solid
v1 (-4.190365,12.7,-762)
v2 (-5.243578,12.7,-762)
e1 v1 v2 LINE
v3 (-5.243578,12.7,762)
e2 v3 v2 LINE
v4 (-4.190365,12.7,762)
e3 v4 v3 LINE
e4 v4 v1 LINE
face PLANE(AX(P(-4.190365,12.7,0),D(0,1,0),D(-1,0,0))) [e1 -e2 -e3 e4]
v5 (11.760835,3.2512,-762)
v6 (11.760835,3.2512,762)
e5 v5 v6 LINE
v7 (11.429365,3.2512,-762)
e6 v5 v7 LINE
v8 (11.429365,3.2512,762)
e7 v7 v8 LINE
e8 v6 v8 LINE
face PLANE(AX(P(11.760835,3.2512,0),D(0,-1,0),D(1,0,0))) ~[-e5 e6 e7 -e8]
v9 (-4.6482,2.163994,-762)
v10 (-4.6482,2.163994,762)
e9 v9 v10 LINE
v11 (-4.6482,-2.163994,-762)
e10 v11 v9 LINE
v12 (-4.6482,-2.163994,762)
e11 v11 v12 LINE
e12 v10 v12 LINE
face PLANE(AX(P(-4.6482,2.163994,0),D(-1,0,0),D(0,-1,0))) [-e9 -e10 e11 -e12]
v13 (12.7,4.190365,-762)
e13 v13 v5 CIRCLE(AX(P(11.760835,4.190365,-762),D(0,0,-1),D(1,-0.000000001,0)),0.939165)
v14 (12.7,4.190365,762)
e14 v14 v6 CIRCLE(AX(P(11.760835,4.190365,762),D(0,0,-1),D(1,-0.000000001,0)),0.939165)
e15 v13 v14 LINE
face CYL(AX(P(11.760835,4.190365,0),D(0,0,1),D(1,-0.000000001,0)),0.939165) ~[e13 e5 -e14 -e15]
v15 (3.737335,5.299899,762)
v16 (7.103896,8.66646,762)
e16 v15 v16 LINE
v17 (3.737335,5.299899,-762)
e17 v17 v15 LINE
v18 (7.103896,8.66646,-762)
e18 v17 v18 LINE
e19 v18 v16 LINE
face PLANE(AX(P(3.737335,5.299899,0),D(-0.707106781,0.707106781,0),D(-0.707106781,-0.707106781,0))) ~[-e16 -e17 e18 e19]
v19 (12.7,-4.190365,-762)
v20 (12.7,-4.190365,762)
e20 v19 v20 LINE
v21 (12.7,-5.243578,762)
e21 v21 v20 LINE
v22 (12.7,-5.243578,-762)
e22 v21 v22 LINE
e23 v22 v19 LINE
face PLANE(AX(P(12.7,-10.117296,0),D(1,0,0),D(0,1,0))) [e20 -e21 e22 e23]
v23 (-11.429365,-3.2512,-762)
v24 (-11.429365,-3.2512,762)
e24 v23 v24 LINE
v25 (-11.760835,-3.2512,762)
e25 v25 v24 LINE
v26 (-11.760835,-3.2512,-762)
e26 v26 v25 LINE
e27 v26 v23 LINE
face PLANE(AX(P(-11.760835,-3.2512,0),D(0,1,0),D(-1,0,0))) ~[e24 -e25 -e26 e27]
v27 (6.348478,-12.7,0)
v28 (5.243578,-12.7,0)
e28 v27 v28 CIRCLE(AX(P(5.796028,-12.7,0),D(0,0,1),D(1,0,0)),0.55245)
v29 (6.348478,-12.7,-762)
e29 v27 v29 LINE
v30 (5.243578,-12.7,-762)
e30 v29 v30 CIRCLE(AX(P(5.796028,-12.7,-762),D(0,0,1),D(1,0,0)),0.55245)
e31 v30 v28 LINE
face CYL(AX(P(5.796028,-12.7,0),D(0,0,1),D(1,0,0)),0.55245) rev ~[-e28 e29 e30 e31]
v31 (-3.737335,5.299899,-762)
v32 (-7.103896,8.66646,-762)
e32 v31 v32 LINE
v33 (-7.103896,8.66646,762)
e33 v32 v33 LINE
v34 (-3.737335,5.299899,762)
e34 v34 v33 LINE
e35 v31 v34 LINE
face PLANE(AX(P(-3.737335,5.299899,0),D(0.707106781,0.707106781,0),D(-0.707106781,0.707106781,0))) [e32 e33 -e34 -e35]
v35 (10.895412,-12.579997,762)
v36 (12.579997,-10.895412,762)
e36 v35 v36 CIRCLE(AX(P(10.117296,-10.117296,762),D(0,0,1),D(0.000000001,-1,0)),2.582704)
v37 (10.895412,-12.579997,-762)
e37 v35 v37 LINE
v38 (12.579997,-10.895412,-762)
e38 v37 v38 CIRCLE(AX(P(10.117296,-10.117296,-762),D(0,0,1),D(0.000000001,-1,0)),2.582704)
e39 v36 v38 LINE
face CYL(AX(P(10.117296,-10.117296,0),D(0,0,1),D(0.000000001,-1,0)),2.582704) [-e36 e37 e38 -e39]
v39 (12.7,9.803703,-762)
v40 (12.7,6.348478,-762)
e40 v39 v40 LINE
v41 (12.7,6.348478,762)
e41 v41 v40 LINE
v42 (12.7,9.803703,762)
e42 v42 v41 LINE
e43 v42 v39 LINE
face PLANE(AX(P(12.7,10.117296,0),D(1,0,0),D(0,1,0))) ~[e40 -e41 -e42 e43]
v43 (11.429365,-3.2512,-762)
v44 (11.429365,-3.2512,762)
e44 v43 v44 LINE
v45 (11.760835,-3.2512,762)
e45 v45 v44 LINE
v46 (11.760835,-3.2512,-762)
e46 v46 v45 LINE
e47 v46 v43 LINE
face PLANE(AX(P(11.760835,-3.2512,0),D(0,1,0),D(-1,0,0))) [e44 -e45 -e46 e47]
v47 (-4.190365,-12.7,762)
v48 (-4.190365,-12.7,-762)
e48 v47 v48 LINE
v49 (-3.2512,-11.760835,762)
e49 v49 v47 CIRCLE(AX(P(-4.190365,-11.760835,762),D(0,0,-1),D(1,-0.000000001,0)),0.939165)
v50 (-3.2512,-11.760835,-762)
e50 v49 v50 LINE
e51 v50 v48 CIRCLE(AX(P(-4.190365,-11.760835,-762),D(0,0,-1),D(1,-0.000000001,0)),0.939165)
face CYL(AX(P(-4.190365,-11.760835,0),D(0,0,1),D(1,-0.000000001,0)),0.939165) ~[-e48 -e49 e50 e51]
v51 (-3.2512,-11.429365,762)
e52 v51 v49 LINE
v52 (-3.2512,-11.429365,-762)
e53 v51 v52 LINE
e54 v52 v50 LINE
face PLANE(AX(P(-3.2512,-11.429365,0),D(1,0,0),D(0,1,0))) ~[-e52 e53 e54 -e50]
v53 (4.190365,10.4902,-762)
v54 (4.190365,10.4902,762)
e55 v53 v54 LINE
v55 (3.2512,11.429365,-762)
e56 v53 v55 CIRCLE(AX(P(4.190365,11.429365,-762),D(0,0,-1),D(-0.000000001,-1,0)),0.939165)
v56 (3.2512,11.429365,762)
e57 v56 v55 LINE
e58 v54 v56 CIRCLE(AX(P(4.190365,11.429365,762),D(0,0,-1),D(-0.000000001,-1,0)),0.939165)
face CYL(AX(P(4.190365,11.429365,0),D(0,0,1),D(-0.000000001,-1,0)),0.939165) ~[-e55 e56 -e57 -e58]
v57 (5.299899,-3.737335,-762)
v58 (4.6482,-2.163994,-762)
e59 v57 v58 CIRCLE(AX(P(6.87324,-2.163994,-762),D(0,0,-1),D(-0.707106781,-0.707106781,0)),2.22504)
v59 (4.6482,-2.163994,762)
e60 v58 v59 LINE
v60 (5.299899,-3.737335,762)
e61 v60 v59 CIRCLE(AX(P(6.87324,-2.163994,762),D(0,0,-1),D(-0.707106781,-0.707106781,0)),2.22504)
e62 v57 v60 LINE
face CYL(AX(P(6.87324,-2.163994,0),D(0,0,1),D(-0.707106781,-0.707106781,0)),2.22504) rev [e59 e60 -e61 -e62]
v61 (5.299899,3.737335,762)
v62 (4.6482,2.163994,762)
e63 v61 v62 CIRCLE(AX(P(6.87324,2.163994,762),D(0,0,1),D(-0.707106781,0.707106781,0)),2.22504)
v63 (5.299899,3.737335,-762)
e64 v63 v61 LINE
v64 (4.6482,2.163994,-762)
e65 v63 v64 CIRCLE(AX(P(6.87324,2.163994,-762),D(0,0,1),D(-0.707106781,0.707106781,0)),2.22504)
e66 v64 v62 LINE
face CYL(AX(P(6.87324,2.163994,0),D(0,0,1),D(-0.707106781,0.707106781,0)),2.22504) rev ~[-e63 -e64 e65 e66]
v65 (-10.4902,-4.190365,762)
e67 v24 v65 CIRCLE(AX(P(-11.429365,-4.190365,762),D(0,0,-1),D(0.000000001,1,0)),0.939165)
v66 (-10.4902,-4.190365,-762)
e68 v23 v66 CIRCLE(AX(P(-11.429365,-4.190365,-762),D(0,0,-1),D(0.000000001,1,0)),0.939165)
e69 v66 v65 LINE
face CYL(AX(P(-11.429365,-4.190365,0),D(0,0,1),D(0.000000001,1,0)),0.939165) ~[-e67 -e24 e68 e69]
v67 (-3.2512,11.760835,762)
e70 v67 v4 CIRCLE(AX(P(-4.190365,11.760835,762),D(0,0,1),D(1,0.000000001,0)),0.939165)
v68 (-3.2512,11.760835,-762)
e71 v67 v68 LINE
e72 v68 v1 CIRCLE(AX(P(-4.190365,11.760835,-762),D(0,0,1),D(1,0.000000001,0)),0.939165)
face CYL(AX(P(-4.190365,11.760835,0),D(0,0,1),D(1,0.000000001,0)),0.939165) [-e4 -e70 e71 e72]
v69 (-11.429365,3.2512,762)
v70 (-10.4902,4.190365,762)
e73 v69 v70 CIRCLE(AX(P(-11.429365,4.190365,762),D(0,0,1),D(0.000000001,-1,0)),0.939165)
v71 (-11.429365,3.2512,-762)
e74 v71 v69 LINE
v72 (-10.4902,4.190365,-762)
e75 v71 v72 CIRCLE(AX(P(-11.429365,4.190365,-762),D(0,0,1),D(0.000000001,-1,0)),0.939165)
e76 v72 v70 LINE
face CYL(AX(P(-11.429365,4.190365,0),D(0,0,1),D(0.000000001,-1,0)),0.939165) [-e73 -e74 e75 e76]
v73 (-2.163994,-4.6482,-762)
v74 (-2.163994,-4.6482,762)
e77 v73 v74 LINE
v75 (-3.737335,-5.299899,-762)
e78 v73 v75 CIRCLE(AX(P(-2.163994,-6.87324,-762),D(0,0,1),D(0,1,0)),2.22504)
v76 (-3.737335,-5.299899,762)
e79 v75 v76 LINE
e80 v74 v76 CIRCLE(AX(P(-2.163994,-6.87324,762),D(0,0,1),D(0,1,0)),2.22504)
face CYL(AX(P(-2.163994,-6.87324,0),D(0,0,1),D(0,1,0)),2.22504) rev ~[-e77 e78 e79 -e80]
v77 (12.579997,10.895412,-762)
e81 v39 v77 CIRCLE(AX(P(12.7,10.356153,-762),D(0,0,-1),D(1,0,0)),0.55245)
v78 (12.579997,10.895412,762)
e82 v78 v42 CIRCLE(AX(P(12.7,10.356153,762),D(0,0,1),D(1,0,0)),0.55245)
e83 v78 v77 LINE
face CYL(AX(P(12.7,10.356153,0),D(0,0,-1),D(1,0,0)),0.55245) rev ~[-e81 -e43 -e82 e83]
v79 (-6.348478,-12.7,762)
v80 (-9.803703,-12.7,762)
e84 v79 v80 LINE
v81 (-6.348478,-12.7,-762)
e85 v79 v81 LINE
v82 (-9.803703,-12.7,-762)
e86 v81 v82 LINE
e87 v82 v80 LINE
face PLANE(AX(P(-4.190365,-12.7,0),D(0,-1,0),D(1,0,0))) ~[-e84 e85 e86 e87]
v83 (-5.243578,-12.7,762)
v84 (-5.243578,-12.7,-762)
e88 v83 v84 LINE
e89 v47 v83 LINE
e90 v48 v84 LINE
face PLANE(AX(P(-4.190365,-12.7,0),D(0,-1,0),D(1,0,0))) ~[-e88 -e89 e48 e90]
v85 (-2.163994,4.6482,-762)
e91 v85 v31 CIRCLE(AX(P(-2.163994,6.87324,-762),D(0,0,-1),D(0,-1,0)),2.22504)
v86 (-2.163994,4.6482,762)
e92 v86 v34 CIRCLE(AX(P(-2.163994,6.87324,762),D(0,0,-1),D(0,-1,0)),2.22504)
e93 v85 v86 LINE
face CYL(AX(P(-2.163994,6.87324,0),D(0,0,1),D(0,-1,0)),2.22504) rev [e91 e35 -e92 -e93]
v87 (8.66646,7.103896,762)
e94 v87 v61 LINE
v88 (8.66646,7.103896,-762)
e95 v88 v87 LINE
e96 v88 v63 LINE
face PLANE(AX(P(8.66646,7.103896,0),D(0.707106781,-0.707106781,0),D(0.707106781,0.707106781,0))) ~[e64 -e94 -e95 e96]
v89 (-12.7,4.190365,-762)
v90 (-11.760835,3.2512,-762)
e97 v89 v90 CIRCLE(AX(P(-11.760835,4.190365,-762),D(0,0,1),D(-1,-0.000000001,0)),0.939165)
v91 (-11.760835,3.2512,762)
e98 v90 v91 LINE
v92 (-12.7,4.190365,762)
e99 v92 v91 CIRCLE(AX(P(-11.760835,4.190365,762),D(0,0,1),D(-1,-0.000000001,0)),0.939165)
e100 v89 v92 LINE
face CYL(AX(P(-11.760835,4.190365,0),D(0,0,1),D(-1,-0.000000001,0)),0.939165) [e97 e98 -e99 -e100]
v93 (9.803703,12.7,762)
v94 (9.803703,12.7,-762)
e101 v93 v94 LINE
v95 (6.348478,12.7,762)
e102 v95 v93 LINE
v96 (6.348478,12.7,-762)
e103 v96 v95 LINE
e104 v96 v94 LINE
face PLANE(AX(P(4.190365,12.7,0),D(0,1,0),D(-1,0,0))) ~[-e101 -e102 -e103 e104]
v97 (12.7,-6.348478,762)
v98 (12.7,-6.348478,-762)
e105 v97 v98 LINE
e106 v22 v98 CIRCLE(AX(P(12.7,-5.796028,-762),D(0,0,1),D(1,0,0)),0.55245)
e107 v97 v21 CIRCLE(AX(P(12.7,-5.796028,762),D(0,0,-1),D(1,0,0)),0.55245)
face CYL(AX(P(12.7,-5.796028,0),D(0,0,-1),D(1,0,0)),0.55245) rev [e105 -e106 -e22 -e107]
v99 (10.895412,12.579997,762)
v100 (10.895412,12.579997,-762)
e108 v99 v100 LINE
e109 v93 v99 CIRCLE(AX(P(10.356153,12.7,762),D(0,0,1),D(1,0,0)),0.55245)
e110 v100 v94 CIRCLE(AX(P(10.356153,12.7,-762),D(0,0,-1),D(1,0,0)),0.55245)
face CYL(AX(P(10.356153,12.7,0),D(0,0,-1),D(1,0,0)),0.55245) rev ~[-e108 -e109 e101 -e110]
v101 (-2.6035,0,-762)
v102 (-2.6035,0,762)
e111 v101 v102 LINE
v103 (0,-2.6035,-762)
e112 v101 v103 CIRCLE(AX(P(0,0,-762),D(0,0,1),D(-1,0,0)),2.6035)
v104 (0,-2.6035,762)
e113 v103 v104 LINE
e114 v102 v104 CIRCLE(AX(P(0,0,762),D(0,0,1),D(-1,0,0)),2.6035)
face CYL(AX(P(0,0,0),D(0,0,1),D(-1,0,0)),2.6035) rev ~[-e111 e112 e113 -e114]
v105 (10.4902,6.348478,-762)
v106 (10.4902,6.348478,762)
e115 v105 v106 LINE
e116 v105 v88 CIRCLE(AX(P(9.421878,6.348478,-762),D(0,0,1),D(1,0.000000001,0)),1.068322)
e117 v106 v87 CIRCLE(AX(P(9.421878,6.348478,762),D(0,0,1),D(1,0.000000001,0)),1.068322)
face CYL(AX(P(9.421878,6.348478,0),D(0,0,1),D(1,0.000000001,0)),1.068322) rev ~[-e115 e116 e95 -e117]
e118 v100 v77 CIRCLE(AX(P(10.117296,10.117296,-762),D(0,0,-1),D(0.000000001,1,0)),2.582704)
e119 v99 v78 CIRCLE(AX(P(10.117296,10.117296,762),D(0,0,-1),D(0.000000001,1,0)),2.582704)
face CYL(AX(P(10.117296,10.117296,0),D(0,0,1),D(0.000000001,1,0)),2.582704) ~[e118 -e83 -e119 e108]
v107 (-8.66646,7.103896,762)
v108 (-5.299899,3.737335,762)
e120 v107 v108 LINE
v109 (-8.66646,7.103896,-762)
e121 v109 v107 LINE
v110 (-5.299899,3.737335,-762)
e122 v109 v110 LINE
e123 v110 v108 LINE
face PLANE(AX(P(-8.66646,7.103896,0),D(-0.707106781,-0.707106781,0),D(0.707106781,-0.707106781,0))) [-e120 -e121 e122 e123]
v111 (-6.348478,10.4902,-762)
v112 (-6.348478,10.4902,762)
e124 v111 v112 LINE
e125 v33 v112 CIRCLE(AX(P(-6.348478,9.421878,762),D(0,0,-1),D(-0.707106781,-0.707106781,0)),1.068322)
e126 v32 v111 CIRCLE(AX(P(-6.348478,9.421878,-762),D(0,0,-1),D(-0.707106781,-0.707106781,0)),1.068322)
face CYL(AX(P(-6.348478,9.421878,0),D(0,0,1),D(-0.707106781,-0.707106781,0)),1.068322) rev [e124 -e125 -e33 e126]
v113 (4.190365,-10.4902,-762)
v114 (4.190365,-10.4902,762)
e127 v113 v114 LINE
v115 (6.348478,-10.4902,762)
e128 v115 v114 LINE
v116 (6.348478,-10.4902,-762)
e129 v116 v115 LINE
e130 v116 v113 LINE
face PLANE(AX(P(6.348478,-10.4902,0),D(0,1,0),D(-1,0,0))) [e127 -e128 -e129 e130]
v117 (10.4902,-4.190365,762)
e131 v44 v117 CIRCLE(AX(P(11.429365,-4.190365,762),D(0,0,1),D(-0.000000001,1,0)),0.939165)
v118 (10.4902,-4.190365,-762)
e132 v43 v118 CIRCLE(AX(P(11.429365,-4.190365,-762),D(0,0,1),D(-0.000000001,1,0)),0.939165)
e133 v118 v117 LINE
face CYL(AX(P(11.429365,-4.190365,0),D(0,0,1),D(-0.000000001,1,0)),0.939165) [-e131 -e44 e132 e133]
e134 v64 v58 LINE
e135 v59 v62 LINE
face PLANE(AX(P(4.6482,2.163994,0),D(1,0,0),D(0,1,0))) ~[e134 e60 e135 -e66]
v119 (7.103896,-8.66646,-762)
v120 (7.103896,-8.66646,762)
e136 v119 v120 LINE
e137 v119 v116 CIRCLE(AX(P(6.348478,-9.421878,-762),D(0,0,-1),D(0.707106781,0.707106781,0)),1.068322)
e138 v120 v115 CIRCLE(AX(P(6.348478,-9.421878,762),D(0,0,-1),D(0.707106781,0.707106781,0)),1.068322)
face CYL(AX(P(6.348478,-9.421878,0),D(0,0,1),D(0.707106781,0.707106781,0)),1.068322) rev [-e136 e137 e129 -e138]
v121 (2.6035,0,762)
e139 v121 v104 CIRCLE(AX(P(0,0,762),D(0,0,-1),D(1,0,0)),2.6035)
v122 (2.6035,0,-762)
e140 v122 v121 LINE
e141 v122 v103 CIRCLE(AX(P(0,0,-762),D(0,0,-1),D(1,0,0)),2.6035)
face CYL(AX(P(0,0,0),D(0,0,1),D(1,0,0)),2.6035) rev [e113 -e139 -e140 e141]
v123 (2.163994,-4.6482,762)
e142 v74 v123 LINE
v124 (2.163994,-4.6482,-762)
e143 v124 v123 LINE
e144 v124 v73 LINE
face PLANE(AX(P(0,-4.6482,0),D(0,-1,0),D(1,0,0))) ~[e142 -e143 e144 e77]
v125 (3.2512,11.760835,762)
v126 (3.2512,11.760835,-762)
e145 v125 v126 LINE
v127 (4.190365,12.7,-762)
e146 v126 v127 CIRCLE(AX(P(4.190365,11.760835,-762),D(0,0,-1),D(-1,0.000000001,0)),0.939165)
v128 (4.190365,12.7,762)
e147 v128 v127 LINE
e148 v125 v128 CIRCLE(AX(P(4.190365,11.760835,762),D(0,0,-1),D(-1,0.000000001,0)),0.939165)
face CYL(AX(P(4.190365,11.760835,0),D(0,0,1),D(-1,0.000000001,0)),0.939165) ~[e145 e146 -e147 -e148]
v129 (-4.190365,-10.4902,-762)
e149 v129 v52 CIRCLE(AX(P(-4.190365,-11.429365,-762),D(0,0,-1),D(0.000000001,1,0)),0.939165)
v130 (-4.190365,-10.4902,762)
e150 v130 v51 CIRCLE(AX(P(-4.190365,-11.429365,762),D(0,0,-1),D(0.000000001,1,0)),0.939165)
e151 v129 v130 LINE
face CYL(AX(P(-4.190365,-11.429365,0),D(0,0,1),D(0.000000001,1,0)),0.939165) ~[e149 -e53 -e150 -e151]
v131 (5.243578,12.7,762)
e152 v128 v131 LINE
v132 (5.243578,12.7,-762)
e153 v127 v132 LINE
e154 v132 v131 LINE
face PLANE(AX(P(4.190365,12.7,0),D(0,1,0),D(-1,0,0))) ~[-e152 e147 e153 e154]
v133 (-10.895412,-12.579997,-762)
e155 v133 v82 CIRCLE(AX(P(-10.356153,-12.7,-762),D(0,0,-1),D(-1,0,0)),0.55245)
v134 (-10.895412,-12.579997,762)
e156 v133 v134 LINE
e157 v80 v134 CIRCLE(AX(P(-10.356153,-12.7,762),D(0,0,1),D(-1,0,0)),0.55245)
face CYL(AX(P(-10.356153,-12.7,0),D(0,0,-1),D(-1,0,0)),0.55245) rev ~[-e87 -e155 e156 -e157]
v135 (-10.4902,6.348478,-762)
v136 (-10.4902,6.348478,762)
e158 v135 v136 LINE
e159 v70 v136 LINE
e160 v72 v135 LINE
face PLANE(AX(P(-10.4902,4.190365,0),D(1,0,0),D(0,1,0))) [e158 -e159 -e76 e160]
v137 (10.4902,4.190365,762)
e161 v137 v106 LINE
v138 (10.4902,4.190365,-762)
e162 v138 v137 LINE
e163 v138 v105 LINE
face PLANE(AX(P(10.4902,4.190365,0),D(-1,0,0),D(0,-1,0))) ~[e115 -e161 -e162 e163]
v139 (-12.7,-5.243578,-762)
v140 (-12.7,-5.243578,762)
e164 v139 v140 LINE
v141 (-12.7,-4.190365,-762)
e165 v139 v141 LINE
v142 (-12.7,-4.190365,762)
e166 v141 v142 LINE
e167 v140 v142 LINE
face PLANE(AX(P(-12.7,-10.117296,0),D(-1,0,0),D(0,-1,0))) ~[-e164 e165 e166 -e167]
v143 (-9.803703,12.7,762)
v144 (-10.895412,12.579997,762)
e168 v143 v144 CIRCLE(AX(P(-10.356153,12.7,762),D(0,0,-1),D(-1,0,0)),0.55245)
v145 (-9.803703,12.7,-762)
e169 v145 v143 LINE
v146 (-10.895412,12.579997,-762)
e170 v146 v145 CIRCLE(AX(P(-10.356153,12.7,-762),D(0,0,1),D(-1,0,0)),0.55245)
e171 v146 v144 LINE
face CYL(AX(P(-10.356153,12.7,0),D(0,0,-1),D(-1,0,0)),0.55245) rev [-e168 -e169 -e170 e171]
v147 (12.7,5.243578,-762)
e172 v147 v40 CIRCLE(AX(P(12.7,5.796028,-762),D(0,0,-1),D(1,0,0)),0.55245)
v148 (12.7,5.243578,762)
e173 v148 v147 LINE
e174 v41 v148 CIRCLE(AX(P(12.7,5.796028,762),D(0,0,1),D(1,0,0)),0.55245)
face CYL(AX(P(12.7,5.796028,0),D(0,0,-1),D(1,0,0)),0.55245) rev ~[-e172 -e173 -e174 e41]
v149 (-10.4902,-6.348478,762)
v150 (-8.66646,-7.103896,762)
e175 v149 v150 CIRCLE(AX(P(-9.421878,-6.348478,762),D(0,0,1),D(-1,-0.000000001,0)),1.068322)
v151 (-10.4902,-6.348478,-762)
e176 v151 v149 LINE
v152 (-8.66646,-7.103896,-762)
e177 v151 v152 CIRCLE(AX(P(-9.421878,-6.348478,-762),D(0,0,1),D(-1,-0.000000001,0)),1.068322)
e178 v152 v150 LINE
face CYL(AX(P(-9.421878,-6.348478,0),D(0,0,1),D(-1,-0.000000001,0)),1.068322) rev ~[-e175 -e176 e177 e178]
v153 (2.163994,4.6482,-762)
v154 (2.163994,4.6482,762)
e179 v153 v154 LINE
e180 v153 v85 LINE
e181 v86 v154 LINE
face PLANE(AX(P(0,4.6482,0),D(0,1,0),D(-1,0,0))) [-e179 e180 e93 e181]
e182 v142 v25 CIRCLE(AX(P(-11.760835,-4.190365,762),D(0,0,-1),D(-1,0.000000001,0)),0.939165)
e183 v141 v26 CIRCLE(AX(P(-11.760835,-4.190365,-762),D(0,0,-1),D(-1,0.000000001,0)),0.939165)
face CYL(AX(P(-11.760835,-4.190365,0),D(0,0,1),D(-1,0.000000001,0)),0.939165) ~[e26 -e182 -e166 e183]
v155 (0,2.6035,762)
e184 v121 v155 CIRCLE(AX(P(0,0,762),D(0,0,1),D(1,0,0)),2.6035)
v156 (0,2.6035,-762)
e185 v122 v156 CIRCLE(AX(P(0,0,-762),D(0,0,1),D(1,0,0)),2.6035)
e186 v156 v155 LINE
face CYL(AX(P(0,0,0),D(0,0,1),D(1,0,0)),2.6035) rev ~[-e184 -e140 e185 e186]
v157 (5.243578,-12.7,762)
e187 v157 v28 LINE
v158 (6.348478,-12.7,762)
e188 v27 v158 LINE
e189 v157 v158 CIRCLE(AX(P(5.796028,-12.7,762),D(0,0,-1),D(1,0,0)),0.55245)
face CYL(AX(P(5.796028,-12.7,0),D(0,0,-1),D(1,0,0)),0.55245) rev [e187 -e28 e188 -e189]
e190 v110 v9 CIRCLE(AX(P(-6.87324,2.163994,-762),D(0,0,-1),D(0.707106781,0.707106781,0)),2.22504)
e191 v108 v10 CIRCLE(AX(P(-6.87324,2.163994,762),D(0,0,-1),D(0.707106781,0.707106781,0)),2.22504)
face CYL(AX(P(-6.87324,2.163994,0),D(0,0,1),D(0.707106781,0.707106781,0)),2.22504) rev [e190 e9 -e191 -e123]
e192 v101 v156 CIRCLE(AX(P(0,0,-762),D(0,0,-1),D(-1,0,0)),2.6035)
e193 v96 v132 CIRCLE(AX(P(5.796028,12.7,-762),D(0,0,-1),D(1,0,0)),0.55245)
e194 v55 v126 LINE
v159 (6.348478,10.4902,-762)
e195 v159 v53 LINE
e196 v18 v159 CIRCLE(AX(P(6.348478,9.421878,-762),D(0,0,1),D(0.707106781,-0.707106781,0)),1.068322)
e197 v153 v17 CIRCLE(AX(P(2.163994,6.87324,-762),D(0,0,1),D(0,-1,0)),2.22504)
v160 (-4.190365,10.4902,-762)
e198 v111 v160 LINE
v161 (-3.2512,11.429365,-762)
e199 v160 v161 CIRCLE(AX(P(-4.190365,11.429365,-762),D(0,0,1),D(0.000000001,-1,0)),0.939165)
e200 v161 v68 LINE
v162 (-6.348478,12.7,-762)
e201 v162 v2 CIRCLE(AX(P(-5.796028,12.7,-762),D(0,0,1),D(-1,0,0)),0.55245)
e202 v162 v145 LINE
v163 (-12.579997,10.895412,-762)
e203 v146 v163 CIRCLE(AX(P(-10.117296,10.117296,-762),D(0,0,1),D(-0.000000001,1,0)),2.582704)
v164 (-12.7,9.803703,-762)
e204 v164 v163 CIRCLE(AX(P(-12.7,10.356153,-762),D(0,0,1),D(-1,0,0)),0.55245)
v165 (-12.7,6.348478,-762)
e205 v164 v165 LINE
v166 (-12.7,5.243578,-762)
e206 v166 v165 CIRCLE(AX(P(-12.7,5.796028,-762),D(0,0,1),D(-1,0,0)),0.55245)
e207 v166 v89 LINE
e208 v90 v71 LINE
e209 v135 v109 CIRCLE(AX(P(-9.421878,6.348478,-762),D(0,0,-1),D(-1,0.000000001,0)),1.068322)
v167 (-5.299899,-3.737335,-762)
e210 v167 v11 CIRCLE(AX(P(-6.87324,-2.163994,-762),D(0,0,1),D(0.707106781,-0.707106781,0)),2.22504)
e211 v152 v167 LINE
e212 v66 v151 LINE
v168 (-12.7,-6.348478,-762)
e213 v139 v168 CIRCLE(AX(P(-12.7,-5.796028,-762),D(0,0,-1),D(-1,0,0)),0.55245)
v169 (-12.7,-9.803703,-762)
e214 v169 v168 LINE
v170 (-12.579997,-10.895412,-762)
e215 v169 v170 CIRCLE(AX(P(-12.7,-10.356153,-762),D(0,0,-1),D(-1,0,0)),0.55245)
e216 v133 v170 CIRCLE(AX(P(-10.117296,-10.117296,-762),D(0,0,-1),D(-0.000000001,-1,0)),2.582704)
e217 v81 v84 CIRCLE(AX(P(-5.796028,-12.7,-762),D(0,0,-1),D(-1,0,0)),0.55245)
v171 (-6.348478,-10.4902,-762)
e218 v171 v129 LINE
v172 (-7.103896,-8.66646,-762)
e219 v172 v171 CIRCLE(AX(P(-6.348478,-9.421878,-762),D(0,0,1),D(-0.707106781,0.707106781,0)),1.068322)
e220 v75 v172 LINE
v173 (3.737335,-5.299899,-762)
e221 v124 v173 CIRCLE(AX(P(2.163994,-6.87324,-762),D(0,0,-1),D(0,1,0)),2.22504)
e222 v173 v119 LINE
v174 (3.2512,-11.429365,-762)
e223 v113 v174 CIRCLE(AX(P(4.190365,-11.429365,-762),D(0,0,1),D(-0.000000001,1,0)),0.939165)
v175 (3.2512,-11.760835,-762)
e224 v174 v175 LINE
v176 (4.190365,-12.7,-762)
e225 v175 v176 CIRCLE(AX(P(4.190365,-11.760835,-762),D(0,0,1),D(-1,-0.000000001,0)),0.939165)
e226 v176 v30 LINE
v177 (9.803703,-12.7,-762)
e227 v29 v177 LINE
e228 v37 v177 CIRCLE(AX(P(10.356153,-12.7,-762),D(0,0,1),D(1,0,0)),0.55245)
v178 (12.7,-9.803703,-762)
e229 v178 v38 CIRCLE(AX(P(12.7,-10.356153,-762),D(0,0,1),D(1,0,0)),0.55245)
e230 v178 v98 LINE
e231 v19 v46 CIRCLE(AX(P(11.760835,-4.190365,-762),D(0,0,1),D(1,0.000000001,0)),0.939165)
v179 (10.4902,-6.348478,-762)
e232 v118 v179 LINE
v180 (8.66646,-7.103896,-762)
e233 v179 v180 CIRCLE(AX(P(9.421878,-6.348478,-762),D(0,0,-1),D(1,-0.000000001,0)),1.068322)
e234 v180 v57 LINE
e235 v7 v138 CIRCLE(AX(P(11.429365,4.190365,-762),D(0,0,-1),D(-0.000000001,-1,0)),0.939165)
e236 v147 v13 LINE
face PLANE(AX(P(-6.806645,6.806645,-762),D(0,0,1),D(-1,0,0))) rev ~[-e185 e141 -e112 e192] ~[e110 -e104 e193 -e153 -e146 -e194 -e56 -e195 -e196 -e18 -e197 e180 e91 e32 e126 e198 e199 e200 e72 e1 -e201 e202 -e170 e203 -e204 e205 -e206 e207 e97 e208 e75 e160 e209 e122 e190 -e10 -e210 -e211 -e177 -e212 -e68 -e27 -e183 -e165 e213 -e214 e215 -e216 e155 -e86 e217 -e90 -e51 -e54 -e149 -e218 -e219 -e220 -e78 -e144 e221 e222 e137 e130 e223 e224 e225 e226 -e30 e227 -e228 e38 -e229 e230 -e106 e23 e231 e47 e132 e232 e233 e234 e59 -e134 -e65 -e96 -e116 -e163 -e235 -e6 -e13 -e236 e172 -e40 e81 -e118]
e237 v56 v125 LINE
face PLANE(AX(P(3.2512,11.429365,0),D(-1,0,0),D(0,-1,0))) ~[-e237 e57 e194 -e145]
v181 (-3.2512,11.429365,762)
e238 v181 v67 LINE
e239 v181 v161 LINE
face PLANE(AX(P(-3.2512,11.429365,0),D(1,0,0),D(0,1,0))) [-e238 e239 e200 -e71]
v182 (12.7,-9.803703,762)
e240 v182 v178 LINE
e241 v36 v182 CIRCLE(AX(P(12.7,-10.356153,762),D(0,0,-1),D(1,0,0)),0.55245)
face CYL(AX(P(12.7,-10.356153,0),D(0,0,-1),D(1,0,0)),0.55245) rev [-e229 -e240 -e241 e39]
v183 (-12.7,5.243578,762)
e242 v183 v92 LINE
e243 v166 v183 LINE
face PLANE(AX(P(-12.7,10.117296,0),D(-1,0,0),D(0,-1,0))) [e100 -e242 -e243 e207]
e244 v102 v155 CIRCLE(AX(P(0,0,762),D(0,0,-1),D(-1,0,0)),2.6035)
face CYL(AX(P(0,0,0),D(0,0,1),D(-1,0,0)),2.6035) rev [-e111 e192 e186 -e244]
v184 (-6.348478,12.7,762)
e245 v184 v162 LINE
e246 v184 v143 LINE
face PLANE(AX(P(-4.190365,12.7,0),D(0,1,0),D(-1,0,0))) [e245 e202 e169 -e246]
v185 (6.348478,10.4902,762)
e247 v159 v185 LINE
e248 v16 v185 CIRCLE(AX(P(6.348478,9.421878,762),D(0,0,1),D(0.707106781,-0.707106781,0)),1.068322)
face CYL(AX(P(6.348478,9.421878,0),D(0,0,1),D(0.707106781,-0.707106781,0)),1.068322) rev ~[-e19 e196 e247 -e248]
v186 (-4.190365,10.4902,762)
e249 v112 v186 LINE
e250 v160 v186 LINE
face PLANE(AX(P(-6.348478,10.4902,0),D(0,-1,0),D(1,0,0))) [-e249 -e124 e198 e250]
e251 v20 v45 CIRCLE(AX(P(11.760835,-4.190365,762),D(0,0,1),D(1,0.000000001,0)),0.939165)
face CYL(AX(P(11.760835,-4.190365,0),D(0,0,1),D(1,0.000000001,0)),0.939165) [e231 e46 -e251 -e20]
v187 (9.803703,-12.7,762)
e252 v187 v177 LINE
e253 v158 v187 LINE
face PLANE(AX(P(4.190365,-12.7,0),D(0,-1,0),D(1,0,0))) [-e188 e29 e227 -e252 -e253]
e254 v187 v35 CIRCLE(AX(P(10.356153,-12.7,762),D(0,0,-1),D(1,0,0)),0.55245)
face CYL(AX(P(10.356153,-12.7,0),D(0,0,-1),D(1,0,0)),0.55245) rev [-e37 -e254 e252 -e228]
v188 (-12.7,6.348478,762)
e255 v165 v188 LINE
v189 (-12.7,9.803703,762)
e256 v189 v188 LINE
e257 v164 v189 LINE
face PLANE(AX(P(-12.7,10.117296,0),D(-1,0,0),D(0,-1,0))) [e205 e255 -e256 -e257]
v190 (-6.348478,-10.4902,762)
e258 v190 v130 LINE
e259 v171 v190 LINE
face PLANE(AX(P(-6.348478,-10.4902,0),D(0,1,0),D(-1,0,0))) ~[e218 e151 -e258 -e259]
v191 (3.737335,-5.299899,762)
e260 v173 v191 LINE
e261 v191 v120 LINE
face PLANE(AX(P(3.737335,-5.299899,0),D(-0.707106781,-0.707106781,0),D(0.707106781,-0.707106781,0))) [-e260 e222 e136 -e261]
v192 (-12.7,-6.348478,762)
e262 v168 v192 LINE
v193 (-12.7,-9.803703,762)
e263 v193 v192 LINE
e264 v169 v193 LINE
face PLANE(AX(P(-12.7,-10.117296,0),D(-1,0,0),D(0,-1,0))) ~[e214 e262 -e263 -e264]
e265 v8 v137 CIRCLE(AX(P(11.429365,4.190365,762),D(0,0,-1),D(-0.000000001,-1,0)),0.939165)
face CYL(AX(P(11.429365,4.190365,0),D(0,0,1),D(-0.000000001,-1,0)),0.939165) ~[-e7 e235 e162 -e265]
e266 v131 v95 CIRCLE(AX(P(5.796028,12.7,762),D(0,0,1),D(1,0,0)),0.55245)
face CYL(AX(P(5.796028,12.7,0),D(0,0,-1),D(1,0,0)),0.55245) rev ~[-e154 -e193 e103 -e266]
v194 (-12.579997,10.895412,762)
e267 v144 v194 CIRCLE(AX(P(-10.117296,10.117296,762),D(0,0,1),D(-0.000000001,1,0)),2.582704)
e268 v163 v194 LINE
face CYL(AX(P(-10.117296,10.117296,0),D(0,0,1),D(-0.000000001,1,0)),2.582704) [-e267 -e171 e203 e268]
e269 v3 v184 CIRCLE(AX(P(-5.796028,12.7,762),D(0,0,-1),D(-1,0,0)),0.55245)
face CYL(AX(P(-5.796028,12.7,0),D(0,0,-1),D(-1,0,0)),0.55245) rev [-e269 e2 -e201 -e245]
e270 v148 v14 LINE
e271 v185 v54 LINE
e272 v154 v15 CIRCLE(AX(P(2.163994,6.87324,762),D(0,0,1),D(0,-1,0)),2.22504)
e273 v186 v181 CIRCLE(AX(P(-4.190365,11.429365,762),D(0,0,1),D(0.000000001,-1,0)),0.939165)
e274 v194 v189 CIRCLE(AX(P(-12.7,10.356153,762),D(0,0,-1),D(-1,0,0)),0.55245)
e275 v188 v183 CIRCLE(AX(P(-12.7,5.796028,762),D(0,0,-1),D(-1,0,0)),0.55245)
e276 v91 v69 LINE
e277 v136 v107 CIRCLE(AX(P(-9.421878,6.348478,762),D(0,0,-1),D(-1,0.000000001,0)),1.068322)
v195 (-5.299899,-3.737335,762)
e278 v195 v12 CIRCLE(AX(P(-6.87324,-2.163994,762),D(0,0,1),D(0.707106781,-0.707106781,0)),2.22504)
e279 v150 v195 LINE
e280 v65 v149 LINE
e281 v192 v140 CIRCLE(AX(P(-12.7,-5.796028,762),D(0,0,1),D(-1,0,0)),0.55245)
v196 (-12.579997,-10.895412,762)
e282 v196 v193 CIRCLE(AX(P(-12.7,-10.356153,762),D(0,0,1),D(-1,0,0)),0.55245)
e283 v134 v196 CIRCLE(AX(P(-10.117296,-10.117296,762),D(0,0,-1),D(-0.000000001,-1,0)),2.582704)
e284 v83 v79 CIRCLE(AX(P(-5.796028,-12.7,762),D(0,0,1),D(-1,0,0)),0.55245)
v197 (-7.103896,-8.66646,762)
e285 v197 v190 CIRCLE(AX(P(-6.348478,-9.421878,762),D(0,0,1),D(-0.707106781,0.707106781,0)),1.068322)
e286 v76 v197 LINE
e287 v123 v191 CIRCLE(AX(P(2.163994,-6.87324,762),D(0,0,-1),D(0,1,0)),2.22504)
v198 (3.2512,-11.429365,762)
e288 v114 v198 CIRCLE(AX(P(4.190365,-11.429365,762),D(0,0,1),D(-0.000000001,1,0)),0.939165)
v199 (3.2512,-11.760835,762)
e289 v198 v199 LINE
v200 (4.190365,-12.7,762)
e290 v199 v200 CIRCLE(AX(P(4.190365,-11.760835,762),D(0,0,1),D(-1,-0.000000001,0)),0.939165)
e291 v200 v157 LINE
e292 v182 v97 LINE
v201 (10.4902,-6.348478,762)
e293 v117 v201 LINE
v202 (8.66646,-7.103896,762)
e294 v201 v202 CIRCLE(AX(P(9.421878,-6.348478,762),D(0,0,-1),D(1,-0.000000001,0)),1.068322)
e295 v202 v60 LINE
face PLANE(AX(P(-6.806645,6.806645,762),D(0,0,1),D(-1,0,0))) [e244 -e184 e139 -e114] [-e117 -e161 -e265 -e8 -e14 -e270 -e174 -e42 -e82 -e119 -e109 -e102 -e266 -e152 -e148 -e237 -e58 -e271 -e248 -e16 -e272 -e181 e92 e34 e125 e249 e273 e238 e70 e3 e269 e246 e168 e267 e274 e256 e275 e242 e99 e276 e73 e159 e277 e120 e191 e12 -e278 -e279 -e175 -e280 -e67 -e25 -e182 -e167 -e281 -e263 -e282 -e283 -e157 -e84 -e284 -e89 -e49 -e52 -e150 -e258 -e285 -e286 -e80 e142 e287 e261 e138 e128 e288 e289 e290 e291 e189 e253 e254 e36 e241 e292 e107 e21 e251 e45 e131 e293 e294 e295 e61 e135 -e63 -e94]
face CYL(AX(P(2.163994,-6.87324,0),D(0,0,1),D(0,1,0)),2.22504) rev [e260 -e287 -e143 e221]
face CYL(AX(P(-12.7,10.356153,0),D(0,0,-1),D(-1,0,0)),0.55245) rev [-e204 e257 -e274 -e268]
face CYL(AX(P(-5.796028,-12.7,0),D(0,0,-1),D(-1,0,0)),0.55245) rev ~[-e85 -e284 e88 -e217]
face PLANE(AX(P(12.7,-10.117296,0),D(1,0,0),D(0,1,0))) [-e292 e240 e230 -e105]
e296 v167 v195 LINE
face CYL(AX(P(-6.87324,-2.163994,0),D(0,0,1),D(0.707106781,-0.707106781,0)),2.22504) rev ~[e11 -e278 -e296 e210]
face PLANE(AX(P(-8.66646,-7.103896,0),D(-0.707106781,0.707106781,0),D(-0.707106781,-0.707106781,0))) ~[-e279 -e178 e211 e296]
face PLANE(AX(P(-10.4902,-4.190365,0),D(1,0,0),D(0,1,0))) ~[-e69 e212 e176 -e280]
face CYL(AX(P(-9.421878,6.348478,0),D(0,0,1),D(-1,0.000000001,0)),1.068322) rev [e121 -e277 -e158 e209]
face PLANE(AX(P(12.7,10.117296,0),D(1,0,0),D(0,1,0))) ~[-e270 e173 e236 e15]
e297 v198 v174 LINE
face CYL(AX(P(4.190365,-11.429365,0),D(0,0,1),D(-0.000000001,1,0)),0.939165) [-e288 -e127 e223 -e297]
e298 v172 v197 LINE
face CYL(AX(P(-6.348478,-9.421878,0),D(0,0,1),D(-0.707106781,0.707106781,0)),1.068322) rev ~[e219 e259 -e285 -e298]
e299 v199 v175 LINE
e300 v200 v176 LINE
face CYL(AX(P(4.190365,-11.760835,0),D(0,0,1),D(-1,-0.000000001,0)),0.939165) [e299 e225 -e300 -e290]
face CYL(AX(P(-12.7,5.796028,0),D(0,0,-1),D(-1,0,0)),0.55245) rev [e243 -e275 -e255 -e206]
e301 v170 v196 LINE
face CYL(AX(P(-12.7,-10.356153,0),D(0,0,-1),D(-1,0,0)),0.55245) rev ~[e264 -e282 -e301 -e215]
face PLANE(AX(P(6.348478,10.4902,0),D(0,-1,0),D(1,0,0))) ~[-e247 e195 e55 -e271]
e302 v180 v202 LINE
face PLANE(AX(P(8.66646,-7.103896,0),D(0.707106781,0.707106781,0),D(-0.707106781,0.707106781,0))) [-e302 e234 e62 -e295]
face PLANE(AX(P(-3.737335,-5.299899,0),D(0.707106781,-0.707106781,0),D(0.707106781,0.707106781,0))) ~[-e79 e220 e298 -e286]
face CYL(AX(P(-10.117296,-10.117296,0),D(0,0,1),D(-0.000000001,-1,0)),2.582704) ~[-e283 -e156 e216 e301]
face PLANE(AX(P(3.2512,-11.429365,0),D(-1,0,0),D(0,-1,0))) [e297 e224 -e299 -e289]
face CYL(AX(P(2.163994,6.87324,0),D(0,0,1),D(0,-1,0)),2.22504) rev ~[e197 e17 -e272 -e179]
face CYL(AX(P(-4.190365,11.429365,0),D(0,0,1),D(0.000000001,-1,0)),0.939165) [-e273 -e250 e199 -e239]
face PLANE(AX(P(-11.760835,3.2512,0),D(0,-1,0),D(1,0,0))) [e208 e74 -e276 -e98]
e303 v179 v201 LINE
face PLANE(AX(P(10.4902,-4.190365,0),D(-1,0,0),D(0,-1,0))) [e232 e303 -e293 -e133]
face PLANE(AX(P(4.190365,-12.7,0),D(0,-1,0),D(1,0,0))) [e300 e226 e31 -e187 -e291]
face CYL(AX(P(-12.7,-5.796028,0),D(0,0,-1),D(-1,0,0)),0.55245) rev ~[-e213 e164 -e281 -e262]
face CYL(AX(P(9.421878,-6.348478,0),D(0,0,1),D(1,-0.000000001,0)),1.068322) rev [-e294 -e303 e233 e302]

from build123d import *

# Parameters (mm, degrees)
BOSS_EXTRUDE1_DEPTH     = 762
SKETCH5_R               = 0.55245
CUT_EXTRUDE1_DEPTH      = 763
CUT_EXTRUDE1_DEPTH_BACK = 763


with BuildPart() as part:
    # Sketch4 → Boss-Extrude1 (new body, symmetric)
    with BuildSketch(Plane.XY):
        with BuildLine():
            Line((4.190365, -12.7), (10.11729625, -12.7))
            ThreePointArc((10.11729625, -12.7), (11.943543585, -11.943543585), (12.7, -10.11729625))
            Line((12.7, -10.11729625), (12.7, -4.190365))
            ThreePointArc((12.7, -4.190365), (12.42492494, -3.52627506), (11.760835, -3.2512))
            Line((11.760835, -3.2512), (11.429365, -3.2512))
            ThreePointArc((11.429365, -3.2512), (10.76527506, -3.52627506), (10.4902, -4.190365))
            Line((10.4902, -4.190365), (10.4902, -6.348478019))
            ThreePointArc((10.4902, -6.348478019), (9.830707141, -7.335478831), (8.666460301, -7.103895736))
            Line((8.666460301, -7.103895736), (5.299899128, -3.737334563))
            ThreePointArc((5.299899128, -3.737334563), (4.817571085, -3.015479634), (4.6482, -2.16399369))
            Line((4.6482, -2.16399369), (4.6482, 0))
            Line((4.6482, 0), (2.6035, 0))
            ThreePointArc((2.6035, 0), (1.840952505, -1.840952505), (0, -2.6035))
            Line((0, -2.6035), (0, -4.6482))
            Line((0, -4.6482), (2.16399369, -4.6482))
            ThreePointArc((2.16399369, -4.6482), (3.015479634, -4.817571085), (3.737334563, -5.299899128))
            Line((3.737334563, -5.299899128), (7.103895736, -8.666460301))
            ThreePointArc((7.103895736, -8.666460301), (7.335478831, -9.830707141), (6.348478019, -10.4902))
            Line((6.348478019, -10.4902), (4.190365, -10.4902))
            ThreePointArc((4.190365, -10.4902), (3.52627506, -10.76527506), (3.2512, -11.429365))
            Line((3.2512, -11.429365), (3.2512, -11.760835))
            ThreePointArc((3.2512, -11.760835), (3.52627506, -12.42492494), (4.190365, -12.7))
        make_face()
    extrude(amount=BOSS_EXTRUDE1_DEPTH, both=True)

    # Sketch5 → Cut-Extrude1 (cut, two sides)
    with BuildSketch(Plane.XY) as cut_extrude1_sk:
        with Locations((10.356153152, -12.7)):
            Circle(SKETCH5_R)
        with Locations((5.796028019, -12.7)):
            Circle(SKETCH5_R)
        with Locations((12.7, -10.356153152)):
            Circle(SKETCH5_R)
        with Locations((12.7, -5.796028019)):
            Circle(SKETCH5_R)
    extrude(amount=CUT_EXTRUDE1_DEPTH, mode=Mode.SUBTRACT)
    extrude(cut_extrude1_sk.sketch, amount=-CUT_EXTRUDE1_DEPTH_BACK, mode=Mode.SUBTRACT)

    # Mirror1: part across plane


with BuildPart() as part_1:
    add(part.part)
    add(part.part.mirror(Plane(origin=(0, 0, 0), x_dir=(0, 0, 1), z_dir=(1, 0, 0))))

    # Mirror2: part across plane


with BuildPart() as part_2:
    add(part_1.part)
    add(part_1.part.mirror(Plane.ZX))


solid = part_2.part
